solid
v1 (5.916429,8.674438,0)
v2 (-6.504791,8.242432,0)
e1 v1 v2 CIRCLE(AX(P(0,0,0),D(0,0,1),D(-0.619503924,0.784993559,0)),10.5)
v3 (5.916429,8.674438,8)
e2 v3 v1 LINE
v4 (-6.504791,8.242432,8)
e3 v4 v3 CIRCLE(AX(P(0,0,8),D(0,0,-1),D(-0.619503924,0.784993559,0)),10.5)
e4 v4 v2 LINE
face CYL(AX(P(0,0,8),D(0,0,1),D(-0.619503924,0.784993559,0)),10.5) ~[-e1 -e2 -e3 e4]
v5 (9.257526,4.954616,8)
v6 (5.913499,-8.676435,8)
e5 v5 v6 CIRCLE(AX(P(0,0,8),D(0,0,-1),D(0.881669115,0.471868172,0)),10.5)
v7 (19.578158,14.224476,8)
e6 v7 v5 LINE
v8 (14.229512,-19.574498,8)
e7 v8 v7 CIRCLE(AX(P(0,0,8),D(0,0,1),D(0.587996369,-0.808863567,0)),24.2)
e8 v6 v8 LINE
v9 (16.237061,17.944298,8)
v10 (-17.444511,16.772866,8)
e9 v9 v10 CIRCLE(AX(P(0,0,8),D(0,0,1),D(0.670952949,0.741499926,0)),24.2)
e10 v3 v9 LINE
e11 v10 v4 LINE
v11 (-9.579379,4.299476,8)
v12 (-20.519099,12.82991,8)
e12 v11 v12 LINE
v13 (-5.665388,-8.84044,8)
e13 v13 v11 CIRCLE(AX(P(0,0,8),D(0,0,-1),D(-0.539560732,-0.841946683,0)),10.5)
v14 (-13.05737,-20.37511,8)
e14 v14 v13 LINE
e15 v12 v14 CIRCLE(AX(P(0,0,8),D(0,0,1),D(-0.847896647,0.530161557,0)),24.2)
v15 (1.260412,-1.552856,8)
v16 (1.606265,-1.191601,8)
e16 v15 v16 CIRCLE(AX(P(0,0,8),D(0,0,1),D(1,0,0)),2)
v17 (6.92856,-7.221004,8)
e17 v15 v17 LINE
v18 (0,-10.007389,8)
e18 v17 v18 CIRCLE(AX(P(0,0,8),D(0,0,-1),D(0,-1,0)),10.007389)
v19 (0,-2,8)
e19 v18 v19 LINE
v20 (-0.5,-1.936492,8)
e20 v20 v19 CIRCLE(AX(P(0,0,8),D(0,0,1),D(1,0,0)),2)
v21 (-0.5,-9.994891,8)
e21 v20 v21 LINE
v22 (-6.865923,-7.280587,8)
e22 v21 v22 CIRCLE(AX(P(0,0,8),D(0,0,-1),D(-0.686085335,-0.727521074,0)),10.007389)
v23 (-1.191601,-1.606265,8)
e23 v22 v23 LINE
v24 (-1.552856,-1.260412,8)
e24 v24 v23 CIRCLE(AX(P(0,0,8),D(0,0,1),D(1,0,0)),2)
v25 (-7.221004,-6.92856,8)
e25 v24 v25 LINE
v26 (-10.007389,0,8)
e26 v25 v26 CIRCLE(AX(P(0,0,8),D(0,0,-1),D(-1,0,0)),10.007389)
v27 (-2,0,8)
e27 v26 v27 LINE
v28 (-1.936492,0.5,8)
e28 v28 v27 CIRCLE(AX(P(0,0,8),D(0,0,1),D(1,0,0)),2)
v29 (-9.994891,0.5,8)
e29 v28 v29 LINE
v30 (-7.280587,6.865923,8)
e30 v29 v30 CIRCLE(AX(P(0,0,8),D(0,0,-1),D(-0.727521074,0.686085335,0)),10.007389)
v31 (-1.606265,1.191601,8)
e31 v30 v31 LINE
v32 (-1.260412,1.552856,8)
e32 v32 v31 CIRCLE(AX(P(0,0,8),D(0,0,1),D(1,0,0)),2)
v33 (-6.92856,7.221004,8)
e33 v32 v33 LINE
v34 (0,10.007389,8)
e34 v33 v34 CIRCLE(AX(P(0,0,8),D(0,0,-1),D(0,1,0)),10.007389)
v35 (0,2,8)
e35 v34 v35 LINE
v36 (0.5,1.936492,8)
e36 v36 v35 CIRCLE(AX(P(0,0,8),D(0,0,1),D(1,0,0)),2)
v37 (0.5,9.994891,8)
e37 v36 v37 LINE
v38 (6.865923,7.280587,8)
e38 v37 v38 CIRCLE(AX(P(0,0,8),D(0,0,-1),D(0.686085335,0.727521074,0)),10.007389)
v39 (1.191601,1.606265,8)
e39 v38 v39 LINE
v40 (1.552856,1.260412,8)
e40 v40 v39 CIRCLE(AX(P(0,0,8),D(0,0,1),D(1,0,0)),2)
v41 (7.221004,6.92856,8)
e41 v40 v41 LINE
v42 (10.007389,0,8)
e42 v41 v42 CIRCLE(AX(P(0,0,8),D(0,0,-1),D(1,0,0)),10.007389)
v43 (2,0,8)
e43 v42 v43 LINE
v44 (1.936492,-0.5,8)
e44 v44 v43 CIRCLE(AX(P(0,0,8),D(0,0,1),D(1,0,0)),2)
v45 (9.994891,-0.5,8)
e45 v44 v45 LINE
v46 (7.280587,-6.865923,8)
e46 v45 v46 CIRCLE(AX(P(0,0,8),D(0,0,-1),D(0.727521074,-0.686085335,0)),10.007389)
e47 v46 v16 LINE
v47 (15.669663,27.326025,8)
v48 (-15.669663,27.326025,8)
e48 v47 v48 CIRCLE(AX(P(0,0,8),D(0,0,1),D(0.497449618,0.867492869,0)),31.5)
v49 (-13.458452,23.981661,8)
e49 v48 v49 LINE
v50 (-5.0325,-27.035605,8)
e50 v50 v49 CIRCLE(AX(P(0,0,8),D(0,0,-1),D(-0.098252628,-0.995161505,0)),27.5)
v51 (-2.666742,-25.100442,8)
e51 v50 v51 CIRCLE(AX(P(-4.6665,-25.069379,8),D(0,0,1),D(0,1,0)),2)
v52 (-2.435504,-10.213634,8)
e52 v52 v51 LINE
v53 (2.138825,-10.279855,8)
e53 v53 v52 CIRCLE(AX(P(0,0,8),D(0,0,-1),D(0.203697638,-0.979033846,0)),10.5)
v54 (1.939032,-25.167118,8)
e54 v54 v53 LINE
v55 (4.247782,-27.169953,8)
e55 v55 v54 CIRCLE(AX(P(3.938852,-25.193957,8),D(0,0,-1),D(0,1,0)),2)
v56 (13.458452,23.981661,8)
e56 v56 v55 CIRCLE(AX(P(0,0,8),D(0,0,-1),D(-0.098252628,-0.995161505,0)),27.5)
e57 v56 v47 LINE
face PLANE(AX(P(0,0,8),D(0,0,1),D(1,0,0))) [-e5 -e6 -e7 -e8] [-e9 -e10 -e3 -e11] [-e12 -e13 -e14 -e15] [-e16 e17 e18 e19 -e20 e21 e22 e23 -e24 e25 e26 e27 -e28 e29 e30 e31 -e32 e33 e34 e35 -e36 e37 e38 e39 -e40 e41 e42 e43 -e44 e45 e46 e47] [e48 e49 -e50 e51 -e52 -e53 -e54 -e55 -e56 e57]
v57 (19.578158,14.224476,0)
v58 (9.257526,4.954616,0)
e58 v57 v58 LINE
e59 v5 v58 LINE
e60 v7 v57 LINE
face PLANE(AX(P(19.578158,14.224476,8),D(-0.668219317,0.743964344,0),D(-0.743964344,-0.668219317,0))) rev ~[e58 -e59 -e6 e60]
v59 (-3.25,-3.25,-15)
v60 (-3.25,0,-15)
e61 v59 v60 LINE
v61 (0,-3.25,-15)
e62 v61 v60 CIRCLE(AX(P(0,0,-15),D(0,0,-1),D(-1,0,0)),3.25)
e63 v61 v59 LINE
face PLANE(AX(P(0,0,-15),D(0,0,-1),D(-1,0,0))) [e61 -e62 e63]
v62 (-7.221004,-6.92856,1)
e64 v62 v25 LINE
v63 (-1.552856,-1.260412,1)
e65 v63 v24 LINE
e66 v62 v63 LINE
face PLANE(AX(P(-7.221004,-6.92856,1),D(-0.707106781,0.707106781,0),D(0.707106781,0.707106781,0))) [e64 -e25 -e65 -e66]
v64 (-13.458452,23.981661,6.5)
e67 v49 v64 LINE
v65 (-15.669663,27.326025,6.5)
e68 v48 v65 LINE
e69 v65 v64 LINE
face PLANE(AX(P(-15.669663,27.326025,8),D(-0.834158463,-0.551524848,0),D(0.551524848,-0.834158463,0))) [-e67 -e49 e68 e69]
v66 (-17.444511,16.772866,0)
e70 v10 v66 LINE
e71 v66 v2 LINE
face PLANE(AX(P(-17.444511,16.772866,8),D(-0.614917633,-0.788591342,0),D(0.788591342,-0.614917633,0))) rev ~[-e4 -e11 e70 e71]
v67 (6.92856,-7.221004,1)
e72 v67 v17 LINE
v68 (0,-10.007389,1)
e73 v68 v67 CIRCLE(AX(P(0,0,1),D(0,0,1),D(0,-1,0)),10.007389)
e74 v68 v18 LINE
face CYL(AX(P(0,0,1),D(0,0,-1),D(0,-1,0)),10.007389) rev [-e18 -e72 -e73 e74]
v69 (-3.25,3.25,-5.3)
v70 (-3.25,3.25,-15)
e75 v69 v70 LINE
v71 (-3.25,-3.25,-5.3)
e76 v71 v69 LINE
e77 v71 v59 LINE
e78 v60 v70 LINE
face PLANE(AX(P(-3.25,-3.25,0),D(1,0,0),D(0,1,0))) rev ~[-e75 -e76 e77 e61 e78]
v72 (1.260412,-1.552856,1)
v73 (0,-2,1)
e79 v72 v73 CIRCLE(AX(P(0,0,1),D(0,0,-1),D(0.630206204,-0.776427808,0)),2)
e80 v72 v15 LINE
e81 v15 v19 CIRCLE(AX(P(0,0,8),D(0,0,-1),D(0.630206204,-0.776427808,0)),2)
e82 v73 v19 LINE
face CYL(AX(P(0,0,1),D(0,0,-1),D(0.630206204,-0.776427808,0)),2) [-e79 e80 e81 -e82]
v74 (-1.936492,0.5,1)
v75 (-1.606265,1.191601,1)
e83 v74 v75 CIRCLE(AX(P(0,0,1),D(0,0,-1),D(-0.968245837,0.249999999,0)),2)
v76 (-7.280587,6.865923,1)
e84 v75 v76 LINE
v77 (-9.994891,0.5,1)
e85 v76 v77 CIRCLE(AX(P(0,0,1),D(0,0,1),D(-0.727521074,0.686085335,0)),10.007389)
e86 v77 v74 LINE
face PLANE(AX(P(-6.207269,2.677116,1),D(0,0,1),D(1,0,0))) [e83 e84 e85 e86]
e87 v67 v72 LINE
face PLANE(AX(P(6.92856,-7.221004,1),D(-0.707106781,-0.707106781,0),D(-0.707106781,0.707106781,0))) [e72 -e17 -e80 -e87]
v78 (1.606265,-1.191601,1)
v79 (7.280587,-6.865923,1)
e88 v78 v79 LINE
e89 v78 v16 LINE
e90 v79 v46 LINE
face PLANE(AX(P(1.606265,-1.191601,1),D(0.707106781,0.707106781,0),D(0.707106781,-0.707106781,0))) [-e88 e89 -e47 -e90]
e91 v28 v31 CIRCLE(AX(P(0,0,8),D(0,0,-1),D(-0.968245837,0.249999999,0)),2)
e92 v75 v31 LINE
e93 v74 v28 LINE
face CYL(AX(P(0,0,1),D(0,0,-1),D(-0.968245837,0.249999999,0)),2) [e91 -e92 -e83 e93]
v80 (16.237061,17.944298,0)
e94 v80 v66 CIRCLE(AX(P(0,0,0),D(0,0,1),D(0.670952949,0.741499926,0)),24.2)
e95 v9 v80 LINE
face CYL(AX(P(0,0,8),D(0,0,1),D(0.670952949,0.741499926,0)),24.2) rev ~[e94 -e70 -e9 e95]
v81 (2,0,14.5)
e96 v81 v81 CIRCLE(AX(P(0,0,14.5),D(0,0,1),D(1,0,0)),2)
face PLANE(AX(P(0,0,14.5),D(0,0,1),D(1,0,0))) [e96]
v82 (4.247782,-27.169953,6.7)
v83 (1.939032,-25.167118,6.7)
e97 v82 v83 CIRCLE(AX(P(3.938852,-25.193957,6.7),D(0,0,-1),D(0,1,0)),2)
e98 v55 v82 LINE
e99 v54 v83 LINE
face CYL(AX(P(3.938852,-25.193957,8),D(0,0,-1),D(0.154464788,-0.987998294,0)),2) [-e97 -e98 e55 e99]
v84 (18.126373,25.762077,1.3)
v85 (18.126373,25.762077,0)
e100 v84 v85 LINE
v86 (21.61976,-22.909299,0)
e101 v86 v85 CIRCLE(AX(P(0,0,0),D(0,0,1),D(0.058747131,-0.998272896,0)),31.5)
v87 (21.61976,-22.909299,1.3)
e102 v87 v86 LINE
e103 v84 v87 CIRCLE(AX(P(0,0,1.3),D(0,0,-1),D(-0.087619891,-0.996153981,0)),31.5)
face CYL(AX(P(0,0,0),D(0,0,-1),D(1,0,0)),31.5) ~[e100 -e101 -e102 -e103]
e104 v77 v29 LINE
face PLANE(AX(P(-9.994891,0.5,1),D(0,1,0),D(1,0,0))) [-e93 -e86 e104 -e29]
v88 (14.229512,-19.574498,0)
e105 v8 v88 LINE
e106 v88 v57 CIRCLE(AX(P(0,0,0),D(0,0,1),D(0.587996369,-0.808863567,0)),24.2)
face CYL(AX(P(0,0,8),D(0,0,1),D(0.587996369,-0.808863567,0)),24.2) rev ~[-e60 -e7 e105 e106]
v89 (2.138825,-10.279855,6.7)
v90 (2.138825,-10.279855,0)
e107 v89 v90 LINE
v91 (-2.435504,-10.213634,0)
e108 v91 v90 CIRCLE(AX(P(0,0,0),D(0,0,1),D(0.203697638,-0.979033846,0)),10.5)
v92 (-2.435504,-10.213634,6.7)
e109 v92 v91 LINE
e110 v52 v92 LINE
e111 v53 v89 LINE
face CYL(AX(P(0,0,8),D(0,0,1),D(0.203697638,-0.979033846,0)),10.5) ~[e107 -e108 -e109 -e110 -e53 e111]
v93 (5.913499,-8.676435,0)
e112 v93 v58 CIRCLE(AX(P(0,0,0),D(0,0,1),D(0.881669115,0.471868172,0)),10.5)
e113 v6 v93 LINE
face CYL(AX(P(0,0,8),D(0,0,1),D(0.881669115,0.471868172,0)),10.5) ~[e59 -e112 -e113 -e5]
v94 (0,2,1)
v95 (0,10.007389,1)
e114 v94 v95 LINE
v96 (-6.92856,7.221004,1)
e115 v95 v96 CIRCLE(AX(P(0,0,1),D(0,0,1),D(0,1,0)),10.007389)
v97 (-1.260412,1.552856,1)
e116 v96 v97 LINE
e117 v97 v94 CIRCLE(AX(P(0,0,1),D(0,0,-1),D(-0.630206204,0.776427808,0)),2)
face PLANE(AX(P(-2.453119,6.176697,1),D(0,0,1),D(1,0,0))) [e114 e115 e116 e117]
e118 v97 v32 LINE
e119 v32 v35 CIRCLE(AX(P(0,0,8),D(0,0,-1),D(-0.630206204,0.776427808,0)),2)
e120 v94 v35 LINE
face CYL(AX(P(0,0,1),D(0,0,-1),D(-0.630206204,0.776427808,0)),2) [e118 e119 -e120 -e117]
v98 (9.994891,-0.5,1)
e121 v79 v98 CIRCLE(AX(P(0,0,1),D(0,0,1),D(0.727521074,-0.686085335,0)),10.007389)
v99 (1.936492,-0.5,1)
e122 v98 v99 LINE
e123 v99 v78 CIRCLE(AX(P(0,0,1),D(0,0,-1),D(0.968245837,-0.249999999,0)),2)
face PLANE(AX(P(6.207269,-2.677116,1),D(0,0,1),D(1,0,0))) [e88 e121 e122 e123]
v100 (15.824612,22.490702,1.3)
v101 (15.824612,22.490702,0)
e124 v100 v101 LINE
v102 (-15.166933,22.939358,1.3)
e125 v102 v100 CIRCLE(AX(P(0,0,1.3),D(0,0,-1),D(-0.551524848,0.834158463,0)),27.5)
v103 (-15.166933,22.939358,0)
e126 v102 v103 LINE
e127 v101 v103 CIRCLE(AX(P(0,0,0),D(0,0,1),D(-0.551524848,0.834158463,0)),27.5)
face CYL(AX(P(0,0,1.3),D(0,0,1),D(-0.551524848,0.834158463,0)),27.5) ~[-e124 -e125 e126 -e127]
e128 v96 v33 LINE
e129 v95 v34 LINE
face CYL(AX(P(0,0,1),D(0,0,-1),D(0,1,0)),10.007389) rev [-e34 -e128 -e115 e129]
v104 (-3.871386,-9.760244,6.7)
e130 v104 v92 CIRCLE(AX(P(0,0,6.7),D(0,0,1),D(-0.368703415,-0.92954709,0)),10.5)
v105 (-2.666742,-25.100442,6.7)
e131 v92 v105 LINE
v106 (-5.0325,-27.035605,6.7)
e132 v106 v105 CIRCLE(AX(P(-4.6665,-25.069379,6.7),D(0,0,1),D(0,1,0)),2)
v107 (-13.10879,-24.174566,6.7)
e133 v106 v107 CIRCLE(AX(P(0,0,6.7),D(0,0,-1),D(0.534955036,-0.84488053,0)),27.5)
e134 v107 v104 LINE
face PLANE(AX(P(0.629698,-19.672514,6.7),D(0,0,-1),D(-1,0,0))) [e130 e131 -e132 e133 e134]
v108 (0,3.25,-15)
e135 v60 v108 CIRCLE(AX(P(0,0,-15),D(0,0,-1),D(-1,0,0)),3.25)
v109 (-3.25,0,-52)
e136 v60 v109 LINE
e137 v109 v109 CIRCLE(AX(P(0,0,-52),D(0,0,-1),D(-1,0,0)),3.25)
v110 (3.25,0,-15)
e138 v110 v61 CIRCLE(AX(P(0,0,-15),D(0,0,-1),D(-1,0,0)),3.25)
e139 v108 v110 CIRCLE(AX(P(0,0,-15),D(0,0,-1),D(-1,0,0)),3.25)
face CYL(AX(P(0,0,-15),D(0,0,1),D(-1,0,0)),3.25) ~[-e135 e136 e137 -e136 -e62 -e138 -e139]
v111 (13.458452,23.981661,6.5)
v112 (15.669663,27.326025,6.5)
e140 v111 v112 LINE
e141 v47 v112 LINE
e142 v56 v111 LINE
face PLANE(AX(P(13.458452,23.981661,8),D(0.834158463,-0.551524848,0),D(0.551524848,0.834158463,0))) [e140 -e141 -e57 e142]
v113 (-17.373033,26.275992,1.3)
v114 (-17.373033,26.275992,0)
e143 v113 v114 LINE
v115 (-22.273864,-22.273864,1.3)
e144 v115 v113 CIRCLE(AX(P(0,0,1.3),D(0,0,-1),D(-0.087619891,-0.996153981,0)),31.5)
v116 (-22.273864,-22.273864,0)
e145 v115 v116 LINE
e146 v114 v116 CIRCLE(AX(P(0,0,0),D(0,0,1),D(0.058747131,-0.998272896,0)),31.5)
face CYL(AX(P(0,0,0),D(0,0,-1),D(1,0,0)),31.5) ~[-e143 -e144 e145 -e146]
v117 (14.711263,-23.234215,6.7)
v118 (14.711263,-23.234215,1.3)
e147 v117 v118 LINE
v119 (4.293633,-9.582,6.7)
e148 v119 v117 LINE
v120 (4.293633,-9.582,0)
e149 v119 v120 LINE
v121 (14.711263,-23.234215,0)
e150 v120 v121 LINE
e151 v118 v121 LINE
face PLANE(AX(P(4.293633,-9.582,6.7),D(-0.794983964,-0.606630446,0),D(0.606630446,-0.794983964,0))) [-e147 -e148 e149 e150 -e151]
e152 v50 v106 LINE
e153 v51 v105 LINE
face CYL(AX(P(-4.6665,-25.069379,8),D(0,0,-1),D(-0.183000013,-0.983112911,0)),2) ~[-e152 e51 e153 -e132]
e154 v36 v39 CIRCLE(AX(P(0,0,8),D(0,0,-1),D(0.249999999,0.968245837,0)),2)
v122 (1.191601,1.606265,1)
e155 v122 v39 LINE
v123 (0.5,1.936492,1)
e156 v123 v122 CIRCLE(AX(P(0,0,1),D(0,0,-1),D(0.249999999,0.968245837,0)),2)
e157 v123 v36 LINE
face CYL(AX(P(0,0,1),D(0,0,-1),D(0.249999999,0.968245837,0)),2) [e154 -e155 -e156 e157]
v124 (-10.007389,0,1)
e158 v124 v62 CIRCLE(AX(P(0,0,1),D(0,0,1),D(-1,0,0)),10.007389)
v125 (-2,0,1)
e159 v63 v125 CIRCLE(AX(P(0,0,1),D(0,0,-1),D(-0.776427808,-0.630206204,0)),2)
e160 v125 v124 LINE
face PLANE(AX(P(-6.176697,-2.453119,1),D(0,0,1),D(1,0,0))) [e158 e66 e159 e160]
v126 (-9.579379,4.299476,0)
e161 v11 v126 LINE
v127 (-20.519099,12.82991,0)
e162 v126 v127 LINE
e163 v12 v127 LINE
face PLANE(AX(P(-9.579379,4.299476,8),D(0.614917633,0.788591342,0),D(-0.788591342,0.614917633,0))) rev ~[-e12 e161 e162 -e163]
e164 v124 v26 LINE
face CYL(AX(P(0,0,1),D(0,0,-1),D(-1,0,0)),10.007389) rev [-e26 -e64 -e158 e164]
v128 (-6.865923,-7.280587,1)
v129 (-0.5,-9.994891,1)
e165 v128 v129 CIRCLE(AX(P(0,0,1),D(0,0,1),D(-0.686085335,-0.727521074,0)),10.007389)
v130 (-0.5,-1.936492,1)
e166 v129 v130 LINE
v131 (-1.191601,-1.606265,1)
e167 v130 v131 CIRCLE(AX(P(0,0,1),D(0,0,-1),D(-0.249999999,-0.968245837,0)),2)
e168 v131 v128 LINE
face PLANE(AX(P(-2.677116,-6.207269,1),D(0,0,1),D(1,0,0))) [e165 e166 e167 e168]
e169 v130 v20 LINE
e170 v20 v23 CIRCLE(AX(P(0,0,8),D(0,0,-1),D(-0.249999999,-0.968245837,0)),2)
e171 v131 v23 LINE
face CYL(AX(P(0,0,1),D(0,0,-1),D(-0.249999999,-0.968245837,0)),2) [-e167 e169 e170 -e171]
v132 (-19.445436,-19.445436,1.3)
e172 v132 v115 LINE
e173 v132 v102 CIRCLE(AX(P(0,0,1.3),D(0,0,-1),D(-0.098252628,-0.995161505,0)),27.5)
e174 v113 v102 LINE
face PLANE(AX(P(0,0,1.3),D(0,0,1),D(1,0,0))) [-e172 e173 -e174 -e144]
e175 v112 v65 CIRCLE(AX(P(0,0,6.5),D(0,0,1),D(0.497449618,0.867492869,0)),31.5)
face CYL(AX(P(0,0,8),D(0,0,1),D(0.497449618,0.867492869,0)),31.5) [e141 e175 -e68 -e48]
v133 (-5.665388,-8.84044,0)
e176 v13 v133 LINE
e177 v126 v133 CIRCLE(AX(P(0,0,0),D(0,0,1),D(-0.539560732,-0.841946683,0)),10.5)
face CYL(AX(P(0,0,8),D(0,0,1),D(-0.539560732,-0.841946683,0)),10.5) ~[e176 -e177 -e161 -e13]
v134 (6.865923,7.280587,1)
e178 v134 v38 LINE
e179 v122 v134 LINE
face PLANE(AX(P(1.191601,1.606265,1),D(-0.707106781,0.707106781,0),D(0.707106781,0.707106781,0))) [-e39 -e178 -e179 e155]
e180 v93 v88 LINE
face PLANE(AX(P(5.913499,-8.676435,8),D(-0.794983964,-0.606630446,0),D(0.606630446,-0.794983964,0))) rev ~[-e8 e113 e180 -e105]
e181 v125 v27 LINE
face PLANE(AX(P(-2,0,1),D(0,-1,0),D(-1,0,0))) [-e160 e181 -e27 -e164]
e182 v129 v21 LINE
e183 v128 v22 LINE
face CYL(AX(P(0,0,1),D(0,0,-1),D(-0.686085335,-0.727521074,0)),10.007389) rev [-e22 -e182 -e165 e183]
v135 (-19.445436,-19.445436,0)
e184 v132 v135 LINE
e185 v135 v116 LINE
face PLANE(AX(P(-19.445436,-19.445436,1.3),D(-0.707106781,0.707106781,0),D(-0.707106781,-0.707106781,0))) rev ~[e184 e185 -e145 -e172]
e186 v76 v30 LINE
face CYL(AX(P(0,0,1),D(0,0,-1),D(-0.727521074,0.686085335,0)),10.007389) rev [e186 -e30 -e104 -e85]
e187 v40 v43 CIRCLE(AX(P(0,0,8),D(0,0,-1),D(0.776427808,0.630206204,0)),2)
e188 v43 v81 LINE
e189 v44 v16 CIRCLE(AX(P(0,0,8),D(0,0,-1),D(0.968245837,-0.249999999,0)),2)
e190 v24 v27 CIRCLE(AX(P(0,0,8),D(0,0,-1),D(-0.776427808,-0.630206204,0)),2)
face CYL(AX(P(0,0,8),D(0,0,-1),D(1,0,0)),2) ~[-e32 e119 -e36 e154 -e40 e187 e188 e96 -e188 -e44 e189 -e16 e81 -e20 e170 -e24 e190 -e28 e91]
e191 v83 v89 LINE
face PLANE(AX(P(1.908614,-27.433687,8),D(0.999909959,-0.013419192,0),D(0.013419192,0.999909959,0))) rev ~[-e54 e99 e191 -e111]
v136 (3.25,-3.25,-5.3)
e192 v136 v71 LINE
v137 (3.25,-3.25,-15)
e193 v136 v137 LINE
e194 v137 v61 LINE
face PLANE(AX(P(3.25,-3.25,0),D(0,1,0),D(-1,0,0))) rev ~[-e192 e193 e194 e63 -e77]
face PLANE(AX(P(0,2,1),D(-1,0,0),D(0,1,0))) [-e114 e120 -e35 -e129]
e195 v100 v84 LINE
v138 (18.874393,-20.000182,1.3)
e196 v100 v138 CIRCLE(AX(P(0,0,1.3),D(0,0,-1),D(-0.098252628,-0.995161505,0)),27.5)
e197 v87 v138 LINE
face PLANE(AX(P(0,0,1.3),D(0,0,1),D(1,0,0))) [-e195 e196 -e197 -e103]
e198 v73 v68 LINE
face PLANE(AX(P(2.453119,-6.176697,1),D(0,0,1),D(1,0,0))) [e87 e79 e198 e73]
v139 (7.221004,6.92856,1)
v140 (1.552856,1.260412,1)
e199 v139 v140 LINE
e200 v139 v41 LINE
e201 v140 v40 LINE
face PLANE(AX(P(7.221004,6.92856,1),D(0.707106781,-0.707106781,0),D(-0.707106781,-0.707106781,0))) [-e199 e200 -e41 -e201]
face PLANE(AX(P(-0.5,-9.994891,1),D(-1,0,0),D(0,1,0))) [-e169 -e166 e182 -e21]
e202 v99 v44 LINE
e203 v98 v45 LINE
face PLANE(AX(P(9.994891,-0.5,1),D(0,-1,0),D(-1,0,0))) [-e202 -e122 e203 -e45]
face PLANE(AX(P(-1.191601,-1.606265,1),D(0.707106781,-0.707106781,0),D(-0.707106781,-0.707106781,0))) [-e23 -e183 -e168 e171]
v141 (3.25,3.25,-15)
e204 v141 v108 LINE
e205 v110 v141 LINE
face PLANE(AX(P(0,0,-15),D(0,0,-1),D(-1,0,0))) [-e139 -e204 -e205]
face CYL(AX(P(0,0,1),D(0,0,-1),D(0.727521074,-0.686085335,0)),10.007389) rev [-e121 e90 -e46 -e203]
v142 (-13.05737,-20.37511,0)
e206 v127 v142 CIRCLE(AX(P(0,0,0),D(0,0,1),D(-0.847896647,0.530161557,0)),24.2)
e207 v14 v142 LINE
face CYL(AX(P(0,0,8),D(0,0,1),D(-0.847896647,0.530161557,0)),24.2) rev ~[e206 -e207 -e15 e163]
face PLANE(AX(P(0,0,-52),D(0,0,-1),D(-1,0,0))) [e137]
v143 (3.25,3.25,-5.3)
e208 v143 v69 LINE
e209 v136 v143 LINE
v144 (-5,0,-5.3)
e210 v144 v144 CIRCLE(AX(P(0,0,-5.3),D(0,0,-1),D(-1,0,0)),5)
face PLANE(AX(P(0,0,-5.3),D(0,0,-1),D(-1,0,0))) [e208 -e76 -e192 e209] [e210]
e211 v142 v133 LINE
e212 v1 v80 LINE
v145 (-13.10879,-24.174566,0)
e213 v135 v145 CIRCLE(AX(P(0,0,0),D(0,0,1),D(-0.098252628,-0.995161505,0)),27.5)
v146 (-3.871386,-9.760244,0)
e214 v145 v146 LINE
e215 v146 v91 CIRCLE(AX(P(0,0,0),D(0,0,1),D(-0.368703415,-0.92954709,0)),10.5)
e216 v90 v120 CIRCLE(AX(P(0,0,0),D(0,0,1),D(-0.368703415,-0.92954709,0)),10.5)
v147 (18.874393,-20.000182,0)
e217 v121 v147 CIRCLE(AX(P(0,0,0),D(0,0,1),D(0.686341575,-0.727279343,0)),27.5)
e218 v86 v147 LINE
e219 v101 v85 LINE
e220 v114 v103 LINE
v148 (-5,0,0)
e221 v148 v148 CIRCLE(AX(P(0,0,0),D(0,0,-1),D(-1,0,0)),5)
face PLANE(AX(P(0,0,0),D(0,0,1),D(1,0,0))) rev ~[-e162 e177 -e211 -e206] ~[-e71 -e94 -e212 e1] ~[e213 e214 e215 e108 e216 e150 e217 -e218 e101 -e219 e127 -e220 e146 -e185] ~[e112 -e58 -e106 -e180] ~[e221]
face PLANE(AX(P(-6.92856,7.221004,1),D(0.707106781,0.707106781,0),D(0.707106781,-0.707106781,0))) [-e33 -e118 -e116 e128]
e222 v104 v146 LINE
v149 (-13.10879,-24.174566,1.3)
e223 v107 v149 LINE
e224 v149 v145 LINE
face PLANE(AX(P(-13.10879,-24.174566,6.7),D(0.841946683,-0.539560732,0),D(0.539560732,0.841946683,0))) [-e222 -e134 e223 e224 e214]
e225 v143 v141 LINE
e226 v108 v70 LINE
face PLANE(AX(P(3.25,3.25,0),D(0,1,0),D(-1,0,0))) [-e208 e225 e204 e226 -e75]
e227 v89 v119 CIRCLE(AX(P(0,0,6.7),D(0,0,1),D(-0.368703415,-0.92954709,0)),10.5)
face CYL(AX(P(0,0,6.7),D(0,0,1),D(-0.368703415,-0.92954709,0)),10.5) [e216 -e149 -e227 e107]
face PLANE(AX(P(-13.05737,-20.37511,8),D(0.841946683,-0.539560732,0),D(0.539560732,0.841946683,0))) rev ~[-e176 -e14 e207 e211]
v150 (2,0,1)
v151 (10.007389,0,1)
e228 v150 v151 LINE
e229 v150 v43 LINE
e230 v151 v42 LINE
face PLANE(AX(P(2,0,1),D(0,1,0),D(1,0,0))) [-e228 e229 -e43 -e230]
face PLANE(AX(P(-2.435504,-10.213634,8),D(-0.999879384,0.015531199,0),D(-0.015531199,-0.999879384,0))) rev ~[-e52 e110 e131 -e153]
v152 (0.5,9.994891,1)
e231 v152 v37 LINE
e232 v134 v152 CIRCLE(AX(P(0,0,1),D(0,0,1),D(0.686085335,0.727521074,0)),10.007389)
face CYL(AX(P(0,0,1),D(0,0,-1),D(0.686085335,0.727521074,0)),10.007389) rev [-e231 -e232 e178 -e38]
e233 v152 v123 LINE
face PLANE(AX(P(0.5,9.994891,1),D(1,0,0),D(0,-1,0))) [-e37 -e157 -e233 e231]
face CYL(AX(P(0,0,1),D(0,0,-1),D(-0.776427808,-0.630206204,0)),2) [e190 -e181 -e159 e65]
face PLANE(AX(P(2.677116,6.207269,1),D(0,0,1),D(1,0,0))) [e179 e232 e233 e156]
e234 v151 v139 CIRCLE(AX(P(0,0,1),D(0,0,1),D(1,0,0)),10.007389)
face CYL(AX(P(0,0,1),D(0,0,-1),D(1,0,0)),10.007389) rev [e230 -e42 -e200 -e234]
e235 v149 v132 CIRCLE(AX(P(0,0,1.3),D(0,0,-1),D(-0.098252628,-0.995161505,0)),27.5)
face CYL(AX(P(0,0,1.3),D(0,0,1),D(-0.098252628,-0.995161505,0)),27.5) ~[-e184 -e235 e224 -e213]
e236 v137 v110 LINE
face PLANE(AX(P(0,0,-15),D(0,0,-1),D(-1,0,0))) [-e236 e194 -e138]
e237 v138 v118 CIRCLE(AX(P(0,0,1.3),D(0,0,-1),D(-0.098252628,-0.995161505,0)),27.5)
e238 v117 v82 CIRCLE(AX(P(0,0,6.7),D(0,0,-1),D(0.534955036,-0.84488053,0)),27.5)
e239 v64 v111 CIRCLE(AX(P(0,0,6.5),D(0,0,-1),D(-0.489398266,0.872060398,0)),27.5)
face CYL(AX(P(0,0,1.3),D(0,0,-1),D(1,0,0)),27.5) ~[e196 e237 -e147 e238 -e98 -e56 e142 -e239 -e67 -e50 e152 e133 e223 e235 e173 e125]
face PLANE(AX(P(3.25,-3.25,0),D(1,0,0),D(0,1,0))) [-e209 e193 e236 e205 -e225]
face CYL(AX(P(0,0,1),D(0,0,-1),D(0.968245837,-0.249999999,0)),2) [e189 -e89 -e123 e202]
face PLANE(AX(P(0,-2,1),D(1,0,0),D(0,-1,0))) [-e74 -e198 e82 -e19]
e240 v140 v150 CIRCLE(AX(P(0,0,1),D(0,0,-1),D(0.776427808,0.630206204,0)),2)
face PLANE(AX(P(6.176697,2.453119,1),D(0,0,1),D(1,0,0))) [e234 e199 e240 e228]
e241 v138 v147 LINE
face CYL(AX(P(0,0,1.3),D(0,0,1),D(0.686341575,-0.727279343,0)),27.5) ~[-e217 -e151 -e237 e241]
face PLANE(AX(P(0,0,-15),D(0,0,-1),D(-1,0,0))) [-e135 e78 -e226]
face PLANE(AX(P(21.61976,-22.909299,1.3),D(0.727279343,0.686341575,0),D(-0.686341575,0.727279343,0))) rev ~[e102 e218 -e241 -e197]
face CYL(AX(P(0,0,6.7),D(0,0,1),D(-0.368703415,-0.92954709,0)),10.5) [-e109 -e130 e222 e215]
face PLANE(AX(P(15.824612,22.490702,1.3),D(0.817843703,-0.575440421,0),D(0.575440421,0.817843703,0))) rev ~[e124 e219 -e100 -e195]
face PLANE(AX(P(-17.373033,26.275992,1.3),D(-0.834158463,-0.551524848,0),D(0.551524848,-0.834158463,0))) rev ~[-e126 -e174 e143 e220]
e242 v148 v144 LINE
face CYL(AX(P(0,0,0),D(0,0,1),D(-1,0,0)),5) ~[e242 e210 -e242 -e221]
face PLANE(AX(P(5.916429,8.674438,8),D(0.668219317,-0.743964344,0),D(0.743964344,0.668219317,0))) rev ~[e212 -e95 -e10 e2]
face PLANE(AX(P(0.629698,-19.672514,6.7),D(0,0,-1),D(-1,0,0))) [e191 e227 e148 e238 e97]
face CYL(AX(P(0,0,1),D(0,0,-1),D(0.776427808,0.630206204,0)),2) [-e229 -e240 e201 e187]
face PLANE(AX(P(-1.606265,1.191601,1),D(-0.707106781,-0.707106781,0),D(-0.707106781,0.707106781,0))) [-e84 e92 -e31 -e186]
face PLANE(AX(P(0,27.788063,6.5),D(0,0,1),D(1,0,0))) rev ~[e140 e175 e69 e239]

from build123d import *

# Parameters (mm, degrees)
CROQUIS1_R                 = 31.5
SALIENTE_EXTRUIR1_DEPTH    = 8
CORTAR_EXTRUIR2_START      = -6.7
CROQUIS2_R                 = 31.5
CROQUIS2_R_2               = 27.5
CORTAR_EXTRUIR2_DEPTH      = 6.7
CORTAR_EXTRUIR4_DEPTH      = 46.260357931
CORTAR_EXTRUIR5_DEPTH      = 46.260357931
CORTAR_EXTRUIR6_DEPTH      = 46.04875137
CORTAR_EXTRUIR7_DEPTH      = 46.04875137
CORTAR_EXTRUIR8_START      = -6.7
CORTAR_EXTRUIR8_DEPTH      = 6.7
REDONDEO1_R                = 2
SALIENTE_EXTRUIR2_DEPTH    = 1.5
CORTAR_EXTRUIR9_DEPTH      = 46.260357931
CORTAR_EXTRUIR9_DEPTH_BACK = 7
CROQUIS9_R                 = 2
SALIENTE_EXTRUIR3_DEPTH    = 6.5
CROQUIS10_R                = 5
CROQUIS10_W                = 6.5
CROQUIS10_H                = 6.5
SALIENTE_EXTRUIR5_DEPTH    = 5.3
CROQUIS10_3_W              = 6.5
CROQUIS10_3_H              = 6.5
SALIENTE_EXTRUIR6_DEPTH    = 15
CROQUIS11_R                = 3.25
SALIENTE_EXTRUIR7_DEPTH    = 37


with BuildPart() as part:
    # Croquis1 → Saliente-Extruir1 (new body)
    with BuildSketch(Plane.XY):
        Circle(CROQUIS1_R)
    extrude(amount=SALIENTE_EXTRUIR1_DEPTH)

    # Croquis2 → Cortar-Extruir2 (cut)
    with BuildSketch(Plane.XY.offset(8).offset(CORTAR_EXTRUIR2_START)):
        Circle(CROQUIS2_R)
        Circle(CROQUIS2_R_2, mode=Mode.SUBTRACT)
    extrude(amount=CORTAR_EXTRUIR2_DEPTH, mode=Mode.SUBTRACT)

    # Croquis3 → Cortar-Extruir4 (cut, through all)
    with BuildSketch(Plane.XY.offset(8)):
        with BuildLine():
            Line((-9.579379365, 4.299475663), (-20.51909885, 12.829909679))
            ThreePointArc((-20.51909885, 12.829909679), (-23.611186728, -5.305832762), (-13.057369721, -20.375109717))
            Line((-13.057369721, -20.375109717), (-5.665387689, -8.840440166))
            ThreePointArc((-5.665387689, -8.840440166), (-10.063055085, -2.997486008), (-9.579379365, 4.299475663))
        make_face()
        with BuildLine():
            ThreePointArc((16.237061362, 17.944298212), (-0.84115789, 24.185376851), (-17.444510686, 16.77286639))
            Line((-17.444510686, 16.77286639), (-6.504791201, 8.242432373))
            ThreePointArc((-6.504791201, 8.242432373), (-0.3649652, 10.493655245), (5.916429122, 8.674437529))
            Line((5.916429122, 8.674437529), (16.237061362, 17.944298212))
        make_face()
        with BuildLine():
            ThreePointArc((14.229512126, -19.574498325), (23.902558724, -3.782550254), (19.578157945, 14.224476493))
            Line((19.578157945, 14.224476493), (9.257525705, 4.954615809))
            ThreePointArc((9.257525705, 4.954615809), (10.197616725, -2.501722034), (5.913499206, -8.676435163))
            Line((5.913499206, -8.676435163), (14.229512126, -19.574498325))
        make_face()
    extrude(amount=-CORTAR_EXTRUIR4_DEPTH, mode=Mode.SUBTRACT)

    # Croquis3<4> → Cortar-Extruir5 (cut, through all)
    with BuildSketch(Plane.XY.offset(8)):
        with BuildLine():
            ThreePointArc((-2.701947276, -27.366941388), (-0.398068092, -27.497118791), (1.908613915, -27.433687192))
            Line((1.908613915, -27.433687192), (2.138825202, -10.279855386))
            ThreePointArc((2.138825202, -10.279855386), (-0.151989635, -10.498899902), (-2.435503713, -10.213634107))
            Line((-2.435503713, -10.213634107), (-2.701947276, -27.366941388))
        make_face()
    extrude(amount=-CORTAR_EXTRUIR5_DEPTH, mode=Mode.SUBTRACT)

    # Croquis4 → Cortar-Extruir6 (cut, through all)
    with BuildSketch(Plane.XY.offset(1.3)):
        Polygon((-2.701947276, -27.366941388), (1.908613915, -27.433687192), (1.818382526, -33.666548493), (-2.792178664, -33.599802689), align=None)
    extrude(amount=-CORTAR_EXTRUIR6_DEPTH, mode=Mode.SUBTRACT)

    # Croquis5 → Cortar-Extruir7 (cut, through all)
    with BuildSketch(Plane.XY.offset(1.3)):
        with BuildLine():
            Line((15.824611578, 22.490701821), (18.126373262, 25.762076631))
            ThreePointArc((18.126373262, 25.762076631), (0.455968906, 31.496699706), (-17.373032714, 26.275991595))
            Line((-17.373032714, 26.275991595), (-15.166933322, 22.939357742))
            ThreePointArc((-15.166933322, 22.939357742), (0.398068092, 27.497118791), (15.824611578, 22.490701821))
        make_face()
        with BuildLine():
            Line((21.619759605, -22.909299305), (18.874393306, -20.000181933))
            ThreePointArc((18.874393306, -20.000181933), (11.036194878, -25.188338623), (1.908613915, -27.433687192))
            Line((1.908613915, -27.433687192), (1.850534631, -31.445596219))
            ThreePointArc((1.850534631, -31.445596219), (12.487224236, -28.919184478), (21.619759605, -22.909299305))
        make_face()
        with BuildLine():
            ThreePointArc((-2.701947276, -27.366941388), (-11.760706264, -24.858314267), (-19.445436483, -19.445436483))
            Line((-19.445436483, -19.445436483), (-22.273863607, -22.273863607))
            ThreePointArc((-22.273863607, -22.273863607), (-13.319125738, -28.545593173), (-2.76002656, -31.378850415))
            Line((-2.76002656, -31.378850415), (-2.701947276, -27.366941388))
        make_face()
    extrude(amount=-CORTAR_EXTRUIR7_DEPTH, mode=Mode.SUBTRACT)

    # Croquis6 → Cortar-Extruir8 (cut)
    with BuildSketch(Plane(origin=(0, 0, 0), x_dir=(-1, 0, 0), z_dir=(0, 0, -1)).offset(CORTAR_EXTRUIR8_START)):
        with BuildLine():
            Line((-4.293632906, -9.581999607), (-14.711263483, -23.234214571))
            ThreePointArc((-14.711263483, -23.234214571), (-0.92900238, -27.484303786), (13.108789939, -24.174565691))
            Line((13.108789939, -24.174565691), (3.871385851, -9.760244443))
            ThreePointArc((3.871385851, -9.760244443), (-0.229163587, -10.497498943), (-4.293632906, -9.581999607))
        make_face()
    extrude(amount=CORTAR_EXTRUIR8_DEPTH, mode=Mode.SUBTRACT)

    # Redondeo1
    redondeo1_edges = [part.edges().sort_by_distance(p)[0] for p in [
        (1.908613915, -27.433687192, 7.35),
        (-2.701947276, -27.366941388, 7.35),
    ]]
    fillet(redondeo1_edges, radius=REDONDEO1_R)

    # Croquis7 → Saliente-Extruir2 (add)
    with BuildSketch(Plane.XY.offset(8)):
        with BuildLine():
            Line((-15.669662975, 27.326025365), (-13.458452317, 23.981660935))
            ThreePointArc((-13.458452317, 23.981660935), (0, 27.5), (13.458452317, 23.981660935))
            Line((13.458452317, 23.981660935), (15.669662975, 27.326025365))
            ThreePointArc((15.669662975, 27.326025365), (0, 31.5), (-15.669662975, 27.326025365))
        make_face()
    extrude(amount=-SALIENTE_EXTRUIR2_DEPTH)

    # Croquis8 → Cortar-Extruir9 (cut, two sides: drawn at the far end of the back side and taken through both)
    with BuildSketch(Plane.XY.offset(8).offset(-CORTAR_EXTRUIR9_DEPTH_BACK)):
        with BuildLine():
            ThreePointArc((-1.260412408, 1.552855615), (-0.668688556, 1.884902017), (0, 2))
            Line((0, 2), (0, 10.00738946))
            ThreePointArc((0, 10.00738946), (-3.733928755, 9.284698157), (-6.928560453, 7.22100366))
            Line((-6.928560453, 7.22100366), (-1.260412408, 1.552855615))
        make_face()
        with BuildLine():
            Line((0.5, 9.994890885), (0.5, 1.936491673))
            ThreePointArc((0.5, 1.936491673), (0.861766275, 1.804815472), (1.19160121, 1.606264784))
            Line((1.19160121, 1.606264784), (6.865923152, 7.280586726))
            ThreePointArc((6.865923152, 7.280586726), (3.925056399, 9.205529646), (0.5, 9.994890885))
        make_face()
        with BuildLine():
            ThreePointArc((-1.936491673, 0.5), (-1.804815472, 0.861766275), (-1.606264784, 1.19160121))
            Line((-1.606264784, 1.19160121), (-7.280586726, 6.865923152))
            ThreePointArc((-7.280586726, 6.865923152), (-9.205529646, 3.925056399), (-9.994890885, 0.5))
            Line((-9.994890885, 0.5), (-1.936491673, 0.5))
        make_face()
        with BuildLine():
            Line((7.22100366, 6.928560453), (1.552855615, 1.260412408))
            ThreePointArc((1.552855615, 1.260412408), (1.884902017, 0.668688556), (2, 0))
            Line((2, 0), (10.00738946, 0))
            ThreePointArc((10.00738946, 0), (9.284698157, 3.733928755), (7.22100366, 6.928560453))
        make_face()
        with BuildLine():
            ThreePointArc((-1.552855615, -1.260412408), (-1.884902017, -0.668688556), (-2, 0))
            Line((-2, 0), (-10.00738946, 0))
            ThreePointArc((-10.00738946, 0), (-9.284698157, -3.733928755), (-7.22100366, -6.928560453))
            Line((-7.22100366, -6.928560453), (-1.552855615, -1.260412408))
        make_face()
        with BuildLine():
            Line((9.994890885, -0.5), (1.936491673, -0.5))
            ThreePointArc((1.936491673, -0.5), (1.804815472, -0.861766275), (1.606264784, -1.19160121))
            Line((1.606264784, -1.19160121), (7.280586726, -6.865923152))
            ThreePointArc((7.280586726, -6.865923152), (9.205529646, -3.925056399), (9.994890885, -0.5))
        make_face()
        with BuildLine():
            ThreePointArc((-0.5, -1.936491673), (-0.861766275, -1.804815472), (-1.19160121, -1.606264784))
            Line((-1.19160121, -1.606264784), (-6.865923152, -7.280586726))
            ThreePointArc((-6.865923152, -7.280586726), (-3.925056399, -9.205529646), (-0.5, -9.994890885))
            Line((-0.5, -9.994890885), (-0.5, -1.936491673))
        make_face()
        with BuildLine():
            Line((6.928560453, -7.22100366), (1.260412408, -1.552855615))
            ThreePointArc((1.260412408, -1.552855615), (0.668688556, -1.884902017), (0, -2))
            Line((0, -2), (0, -10.00738946))
            ThreePointArc((0, -10.00738946), (3.733928755, -9.284698157), (6.928560453, -7.22100366))
        make_face()
    extrude(amount=CORTAR_EXTRUIR9_DEPTH + CORTAR_EXTRUIR9_DEPTH_BACK, mode=Mode.SUBTRACT)

    # Croquis9 → Saliente-Extruir3 (add)
    with BuildSketch(Plane.XY.offset(8)):
        Circle(CROQUIS9_R)
    extrude(amount=SALIENTE_EXTRUIR3_DEPTH)

    # Croquis10 → Saliente-Extruir5 (add)
    with BuildSketch(Plane(origin=(0, 0, 0), x_dir=(-1, 0, 0), z_dir=(0, 0, -1))):
        Circle(CROQUIS10_R)
        Rectangle(CROQUIS10_W, CROQUIS10_H, mode=Mode.SUBTRACT)
    extrude(amount=SALIENTE_EXTRUIR5_DEPTH)

    # Croquis10<3> → Saliente-Extruir6 (add)
    with BuildSketch(Plane(origin=(0, 0, 0), x_dir=(-1, 0, 0), z_dir=(0, 0, -1))):
        Rectangle(CROQUIS10_3_W, CROQUIS10_3_H)
    extrude(amount=SALIENTE_EXTRUIR6_DEPTH)

    # Croquis11 → Saliente-Extruir7 (add)
    with BuildSketch(Plane(origin=(0, 0, -15), x_dir=(-1, 0, 0), z_dir=(0, 0, -1))):
        Circle(CROQUIS11_R)
    extrude(amount=SALIENTE_EXTRUIR7_DEPTH)


solid = part.part
